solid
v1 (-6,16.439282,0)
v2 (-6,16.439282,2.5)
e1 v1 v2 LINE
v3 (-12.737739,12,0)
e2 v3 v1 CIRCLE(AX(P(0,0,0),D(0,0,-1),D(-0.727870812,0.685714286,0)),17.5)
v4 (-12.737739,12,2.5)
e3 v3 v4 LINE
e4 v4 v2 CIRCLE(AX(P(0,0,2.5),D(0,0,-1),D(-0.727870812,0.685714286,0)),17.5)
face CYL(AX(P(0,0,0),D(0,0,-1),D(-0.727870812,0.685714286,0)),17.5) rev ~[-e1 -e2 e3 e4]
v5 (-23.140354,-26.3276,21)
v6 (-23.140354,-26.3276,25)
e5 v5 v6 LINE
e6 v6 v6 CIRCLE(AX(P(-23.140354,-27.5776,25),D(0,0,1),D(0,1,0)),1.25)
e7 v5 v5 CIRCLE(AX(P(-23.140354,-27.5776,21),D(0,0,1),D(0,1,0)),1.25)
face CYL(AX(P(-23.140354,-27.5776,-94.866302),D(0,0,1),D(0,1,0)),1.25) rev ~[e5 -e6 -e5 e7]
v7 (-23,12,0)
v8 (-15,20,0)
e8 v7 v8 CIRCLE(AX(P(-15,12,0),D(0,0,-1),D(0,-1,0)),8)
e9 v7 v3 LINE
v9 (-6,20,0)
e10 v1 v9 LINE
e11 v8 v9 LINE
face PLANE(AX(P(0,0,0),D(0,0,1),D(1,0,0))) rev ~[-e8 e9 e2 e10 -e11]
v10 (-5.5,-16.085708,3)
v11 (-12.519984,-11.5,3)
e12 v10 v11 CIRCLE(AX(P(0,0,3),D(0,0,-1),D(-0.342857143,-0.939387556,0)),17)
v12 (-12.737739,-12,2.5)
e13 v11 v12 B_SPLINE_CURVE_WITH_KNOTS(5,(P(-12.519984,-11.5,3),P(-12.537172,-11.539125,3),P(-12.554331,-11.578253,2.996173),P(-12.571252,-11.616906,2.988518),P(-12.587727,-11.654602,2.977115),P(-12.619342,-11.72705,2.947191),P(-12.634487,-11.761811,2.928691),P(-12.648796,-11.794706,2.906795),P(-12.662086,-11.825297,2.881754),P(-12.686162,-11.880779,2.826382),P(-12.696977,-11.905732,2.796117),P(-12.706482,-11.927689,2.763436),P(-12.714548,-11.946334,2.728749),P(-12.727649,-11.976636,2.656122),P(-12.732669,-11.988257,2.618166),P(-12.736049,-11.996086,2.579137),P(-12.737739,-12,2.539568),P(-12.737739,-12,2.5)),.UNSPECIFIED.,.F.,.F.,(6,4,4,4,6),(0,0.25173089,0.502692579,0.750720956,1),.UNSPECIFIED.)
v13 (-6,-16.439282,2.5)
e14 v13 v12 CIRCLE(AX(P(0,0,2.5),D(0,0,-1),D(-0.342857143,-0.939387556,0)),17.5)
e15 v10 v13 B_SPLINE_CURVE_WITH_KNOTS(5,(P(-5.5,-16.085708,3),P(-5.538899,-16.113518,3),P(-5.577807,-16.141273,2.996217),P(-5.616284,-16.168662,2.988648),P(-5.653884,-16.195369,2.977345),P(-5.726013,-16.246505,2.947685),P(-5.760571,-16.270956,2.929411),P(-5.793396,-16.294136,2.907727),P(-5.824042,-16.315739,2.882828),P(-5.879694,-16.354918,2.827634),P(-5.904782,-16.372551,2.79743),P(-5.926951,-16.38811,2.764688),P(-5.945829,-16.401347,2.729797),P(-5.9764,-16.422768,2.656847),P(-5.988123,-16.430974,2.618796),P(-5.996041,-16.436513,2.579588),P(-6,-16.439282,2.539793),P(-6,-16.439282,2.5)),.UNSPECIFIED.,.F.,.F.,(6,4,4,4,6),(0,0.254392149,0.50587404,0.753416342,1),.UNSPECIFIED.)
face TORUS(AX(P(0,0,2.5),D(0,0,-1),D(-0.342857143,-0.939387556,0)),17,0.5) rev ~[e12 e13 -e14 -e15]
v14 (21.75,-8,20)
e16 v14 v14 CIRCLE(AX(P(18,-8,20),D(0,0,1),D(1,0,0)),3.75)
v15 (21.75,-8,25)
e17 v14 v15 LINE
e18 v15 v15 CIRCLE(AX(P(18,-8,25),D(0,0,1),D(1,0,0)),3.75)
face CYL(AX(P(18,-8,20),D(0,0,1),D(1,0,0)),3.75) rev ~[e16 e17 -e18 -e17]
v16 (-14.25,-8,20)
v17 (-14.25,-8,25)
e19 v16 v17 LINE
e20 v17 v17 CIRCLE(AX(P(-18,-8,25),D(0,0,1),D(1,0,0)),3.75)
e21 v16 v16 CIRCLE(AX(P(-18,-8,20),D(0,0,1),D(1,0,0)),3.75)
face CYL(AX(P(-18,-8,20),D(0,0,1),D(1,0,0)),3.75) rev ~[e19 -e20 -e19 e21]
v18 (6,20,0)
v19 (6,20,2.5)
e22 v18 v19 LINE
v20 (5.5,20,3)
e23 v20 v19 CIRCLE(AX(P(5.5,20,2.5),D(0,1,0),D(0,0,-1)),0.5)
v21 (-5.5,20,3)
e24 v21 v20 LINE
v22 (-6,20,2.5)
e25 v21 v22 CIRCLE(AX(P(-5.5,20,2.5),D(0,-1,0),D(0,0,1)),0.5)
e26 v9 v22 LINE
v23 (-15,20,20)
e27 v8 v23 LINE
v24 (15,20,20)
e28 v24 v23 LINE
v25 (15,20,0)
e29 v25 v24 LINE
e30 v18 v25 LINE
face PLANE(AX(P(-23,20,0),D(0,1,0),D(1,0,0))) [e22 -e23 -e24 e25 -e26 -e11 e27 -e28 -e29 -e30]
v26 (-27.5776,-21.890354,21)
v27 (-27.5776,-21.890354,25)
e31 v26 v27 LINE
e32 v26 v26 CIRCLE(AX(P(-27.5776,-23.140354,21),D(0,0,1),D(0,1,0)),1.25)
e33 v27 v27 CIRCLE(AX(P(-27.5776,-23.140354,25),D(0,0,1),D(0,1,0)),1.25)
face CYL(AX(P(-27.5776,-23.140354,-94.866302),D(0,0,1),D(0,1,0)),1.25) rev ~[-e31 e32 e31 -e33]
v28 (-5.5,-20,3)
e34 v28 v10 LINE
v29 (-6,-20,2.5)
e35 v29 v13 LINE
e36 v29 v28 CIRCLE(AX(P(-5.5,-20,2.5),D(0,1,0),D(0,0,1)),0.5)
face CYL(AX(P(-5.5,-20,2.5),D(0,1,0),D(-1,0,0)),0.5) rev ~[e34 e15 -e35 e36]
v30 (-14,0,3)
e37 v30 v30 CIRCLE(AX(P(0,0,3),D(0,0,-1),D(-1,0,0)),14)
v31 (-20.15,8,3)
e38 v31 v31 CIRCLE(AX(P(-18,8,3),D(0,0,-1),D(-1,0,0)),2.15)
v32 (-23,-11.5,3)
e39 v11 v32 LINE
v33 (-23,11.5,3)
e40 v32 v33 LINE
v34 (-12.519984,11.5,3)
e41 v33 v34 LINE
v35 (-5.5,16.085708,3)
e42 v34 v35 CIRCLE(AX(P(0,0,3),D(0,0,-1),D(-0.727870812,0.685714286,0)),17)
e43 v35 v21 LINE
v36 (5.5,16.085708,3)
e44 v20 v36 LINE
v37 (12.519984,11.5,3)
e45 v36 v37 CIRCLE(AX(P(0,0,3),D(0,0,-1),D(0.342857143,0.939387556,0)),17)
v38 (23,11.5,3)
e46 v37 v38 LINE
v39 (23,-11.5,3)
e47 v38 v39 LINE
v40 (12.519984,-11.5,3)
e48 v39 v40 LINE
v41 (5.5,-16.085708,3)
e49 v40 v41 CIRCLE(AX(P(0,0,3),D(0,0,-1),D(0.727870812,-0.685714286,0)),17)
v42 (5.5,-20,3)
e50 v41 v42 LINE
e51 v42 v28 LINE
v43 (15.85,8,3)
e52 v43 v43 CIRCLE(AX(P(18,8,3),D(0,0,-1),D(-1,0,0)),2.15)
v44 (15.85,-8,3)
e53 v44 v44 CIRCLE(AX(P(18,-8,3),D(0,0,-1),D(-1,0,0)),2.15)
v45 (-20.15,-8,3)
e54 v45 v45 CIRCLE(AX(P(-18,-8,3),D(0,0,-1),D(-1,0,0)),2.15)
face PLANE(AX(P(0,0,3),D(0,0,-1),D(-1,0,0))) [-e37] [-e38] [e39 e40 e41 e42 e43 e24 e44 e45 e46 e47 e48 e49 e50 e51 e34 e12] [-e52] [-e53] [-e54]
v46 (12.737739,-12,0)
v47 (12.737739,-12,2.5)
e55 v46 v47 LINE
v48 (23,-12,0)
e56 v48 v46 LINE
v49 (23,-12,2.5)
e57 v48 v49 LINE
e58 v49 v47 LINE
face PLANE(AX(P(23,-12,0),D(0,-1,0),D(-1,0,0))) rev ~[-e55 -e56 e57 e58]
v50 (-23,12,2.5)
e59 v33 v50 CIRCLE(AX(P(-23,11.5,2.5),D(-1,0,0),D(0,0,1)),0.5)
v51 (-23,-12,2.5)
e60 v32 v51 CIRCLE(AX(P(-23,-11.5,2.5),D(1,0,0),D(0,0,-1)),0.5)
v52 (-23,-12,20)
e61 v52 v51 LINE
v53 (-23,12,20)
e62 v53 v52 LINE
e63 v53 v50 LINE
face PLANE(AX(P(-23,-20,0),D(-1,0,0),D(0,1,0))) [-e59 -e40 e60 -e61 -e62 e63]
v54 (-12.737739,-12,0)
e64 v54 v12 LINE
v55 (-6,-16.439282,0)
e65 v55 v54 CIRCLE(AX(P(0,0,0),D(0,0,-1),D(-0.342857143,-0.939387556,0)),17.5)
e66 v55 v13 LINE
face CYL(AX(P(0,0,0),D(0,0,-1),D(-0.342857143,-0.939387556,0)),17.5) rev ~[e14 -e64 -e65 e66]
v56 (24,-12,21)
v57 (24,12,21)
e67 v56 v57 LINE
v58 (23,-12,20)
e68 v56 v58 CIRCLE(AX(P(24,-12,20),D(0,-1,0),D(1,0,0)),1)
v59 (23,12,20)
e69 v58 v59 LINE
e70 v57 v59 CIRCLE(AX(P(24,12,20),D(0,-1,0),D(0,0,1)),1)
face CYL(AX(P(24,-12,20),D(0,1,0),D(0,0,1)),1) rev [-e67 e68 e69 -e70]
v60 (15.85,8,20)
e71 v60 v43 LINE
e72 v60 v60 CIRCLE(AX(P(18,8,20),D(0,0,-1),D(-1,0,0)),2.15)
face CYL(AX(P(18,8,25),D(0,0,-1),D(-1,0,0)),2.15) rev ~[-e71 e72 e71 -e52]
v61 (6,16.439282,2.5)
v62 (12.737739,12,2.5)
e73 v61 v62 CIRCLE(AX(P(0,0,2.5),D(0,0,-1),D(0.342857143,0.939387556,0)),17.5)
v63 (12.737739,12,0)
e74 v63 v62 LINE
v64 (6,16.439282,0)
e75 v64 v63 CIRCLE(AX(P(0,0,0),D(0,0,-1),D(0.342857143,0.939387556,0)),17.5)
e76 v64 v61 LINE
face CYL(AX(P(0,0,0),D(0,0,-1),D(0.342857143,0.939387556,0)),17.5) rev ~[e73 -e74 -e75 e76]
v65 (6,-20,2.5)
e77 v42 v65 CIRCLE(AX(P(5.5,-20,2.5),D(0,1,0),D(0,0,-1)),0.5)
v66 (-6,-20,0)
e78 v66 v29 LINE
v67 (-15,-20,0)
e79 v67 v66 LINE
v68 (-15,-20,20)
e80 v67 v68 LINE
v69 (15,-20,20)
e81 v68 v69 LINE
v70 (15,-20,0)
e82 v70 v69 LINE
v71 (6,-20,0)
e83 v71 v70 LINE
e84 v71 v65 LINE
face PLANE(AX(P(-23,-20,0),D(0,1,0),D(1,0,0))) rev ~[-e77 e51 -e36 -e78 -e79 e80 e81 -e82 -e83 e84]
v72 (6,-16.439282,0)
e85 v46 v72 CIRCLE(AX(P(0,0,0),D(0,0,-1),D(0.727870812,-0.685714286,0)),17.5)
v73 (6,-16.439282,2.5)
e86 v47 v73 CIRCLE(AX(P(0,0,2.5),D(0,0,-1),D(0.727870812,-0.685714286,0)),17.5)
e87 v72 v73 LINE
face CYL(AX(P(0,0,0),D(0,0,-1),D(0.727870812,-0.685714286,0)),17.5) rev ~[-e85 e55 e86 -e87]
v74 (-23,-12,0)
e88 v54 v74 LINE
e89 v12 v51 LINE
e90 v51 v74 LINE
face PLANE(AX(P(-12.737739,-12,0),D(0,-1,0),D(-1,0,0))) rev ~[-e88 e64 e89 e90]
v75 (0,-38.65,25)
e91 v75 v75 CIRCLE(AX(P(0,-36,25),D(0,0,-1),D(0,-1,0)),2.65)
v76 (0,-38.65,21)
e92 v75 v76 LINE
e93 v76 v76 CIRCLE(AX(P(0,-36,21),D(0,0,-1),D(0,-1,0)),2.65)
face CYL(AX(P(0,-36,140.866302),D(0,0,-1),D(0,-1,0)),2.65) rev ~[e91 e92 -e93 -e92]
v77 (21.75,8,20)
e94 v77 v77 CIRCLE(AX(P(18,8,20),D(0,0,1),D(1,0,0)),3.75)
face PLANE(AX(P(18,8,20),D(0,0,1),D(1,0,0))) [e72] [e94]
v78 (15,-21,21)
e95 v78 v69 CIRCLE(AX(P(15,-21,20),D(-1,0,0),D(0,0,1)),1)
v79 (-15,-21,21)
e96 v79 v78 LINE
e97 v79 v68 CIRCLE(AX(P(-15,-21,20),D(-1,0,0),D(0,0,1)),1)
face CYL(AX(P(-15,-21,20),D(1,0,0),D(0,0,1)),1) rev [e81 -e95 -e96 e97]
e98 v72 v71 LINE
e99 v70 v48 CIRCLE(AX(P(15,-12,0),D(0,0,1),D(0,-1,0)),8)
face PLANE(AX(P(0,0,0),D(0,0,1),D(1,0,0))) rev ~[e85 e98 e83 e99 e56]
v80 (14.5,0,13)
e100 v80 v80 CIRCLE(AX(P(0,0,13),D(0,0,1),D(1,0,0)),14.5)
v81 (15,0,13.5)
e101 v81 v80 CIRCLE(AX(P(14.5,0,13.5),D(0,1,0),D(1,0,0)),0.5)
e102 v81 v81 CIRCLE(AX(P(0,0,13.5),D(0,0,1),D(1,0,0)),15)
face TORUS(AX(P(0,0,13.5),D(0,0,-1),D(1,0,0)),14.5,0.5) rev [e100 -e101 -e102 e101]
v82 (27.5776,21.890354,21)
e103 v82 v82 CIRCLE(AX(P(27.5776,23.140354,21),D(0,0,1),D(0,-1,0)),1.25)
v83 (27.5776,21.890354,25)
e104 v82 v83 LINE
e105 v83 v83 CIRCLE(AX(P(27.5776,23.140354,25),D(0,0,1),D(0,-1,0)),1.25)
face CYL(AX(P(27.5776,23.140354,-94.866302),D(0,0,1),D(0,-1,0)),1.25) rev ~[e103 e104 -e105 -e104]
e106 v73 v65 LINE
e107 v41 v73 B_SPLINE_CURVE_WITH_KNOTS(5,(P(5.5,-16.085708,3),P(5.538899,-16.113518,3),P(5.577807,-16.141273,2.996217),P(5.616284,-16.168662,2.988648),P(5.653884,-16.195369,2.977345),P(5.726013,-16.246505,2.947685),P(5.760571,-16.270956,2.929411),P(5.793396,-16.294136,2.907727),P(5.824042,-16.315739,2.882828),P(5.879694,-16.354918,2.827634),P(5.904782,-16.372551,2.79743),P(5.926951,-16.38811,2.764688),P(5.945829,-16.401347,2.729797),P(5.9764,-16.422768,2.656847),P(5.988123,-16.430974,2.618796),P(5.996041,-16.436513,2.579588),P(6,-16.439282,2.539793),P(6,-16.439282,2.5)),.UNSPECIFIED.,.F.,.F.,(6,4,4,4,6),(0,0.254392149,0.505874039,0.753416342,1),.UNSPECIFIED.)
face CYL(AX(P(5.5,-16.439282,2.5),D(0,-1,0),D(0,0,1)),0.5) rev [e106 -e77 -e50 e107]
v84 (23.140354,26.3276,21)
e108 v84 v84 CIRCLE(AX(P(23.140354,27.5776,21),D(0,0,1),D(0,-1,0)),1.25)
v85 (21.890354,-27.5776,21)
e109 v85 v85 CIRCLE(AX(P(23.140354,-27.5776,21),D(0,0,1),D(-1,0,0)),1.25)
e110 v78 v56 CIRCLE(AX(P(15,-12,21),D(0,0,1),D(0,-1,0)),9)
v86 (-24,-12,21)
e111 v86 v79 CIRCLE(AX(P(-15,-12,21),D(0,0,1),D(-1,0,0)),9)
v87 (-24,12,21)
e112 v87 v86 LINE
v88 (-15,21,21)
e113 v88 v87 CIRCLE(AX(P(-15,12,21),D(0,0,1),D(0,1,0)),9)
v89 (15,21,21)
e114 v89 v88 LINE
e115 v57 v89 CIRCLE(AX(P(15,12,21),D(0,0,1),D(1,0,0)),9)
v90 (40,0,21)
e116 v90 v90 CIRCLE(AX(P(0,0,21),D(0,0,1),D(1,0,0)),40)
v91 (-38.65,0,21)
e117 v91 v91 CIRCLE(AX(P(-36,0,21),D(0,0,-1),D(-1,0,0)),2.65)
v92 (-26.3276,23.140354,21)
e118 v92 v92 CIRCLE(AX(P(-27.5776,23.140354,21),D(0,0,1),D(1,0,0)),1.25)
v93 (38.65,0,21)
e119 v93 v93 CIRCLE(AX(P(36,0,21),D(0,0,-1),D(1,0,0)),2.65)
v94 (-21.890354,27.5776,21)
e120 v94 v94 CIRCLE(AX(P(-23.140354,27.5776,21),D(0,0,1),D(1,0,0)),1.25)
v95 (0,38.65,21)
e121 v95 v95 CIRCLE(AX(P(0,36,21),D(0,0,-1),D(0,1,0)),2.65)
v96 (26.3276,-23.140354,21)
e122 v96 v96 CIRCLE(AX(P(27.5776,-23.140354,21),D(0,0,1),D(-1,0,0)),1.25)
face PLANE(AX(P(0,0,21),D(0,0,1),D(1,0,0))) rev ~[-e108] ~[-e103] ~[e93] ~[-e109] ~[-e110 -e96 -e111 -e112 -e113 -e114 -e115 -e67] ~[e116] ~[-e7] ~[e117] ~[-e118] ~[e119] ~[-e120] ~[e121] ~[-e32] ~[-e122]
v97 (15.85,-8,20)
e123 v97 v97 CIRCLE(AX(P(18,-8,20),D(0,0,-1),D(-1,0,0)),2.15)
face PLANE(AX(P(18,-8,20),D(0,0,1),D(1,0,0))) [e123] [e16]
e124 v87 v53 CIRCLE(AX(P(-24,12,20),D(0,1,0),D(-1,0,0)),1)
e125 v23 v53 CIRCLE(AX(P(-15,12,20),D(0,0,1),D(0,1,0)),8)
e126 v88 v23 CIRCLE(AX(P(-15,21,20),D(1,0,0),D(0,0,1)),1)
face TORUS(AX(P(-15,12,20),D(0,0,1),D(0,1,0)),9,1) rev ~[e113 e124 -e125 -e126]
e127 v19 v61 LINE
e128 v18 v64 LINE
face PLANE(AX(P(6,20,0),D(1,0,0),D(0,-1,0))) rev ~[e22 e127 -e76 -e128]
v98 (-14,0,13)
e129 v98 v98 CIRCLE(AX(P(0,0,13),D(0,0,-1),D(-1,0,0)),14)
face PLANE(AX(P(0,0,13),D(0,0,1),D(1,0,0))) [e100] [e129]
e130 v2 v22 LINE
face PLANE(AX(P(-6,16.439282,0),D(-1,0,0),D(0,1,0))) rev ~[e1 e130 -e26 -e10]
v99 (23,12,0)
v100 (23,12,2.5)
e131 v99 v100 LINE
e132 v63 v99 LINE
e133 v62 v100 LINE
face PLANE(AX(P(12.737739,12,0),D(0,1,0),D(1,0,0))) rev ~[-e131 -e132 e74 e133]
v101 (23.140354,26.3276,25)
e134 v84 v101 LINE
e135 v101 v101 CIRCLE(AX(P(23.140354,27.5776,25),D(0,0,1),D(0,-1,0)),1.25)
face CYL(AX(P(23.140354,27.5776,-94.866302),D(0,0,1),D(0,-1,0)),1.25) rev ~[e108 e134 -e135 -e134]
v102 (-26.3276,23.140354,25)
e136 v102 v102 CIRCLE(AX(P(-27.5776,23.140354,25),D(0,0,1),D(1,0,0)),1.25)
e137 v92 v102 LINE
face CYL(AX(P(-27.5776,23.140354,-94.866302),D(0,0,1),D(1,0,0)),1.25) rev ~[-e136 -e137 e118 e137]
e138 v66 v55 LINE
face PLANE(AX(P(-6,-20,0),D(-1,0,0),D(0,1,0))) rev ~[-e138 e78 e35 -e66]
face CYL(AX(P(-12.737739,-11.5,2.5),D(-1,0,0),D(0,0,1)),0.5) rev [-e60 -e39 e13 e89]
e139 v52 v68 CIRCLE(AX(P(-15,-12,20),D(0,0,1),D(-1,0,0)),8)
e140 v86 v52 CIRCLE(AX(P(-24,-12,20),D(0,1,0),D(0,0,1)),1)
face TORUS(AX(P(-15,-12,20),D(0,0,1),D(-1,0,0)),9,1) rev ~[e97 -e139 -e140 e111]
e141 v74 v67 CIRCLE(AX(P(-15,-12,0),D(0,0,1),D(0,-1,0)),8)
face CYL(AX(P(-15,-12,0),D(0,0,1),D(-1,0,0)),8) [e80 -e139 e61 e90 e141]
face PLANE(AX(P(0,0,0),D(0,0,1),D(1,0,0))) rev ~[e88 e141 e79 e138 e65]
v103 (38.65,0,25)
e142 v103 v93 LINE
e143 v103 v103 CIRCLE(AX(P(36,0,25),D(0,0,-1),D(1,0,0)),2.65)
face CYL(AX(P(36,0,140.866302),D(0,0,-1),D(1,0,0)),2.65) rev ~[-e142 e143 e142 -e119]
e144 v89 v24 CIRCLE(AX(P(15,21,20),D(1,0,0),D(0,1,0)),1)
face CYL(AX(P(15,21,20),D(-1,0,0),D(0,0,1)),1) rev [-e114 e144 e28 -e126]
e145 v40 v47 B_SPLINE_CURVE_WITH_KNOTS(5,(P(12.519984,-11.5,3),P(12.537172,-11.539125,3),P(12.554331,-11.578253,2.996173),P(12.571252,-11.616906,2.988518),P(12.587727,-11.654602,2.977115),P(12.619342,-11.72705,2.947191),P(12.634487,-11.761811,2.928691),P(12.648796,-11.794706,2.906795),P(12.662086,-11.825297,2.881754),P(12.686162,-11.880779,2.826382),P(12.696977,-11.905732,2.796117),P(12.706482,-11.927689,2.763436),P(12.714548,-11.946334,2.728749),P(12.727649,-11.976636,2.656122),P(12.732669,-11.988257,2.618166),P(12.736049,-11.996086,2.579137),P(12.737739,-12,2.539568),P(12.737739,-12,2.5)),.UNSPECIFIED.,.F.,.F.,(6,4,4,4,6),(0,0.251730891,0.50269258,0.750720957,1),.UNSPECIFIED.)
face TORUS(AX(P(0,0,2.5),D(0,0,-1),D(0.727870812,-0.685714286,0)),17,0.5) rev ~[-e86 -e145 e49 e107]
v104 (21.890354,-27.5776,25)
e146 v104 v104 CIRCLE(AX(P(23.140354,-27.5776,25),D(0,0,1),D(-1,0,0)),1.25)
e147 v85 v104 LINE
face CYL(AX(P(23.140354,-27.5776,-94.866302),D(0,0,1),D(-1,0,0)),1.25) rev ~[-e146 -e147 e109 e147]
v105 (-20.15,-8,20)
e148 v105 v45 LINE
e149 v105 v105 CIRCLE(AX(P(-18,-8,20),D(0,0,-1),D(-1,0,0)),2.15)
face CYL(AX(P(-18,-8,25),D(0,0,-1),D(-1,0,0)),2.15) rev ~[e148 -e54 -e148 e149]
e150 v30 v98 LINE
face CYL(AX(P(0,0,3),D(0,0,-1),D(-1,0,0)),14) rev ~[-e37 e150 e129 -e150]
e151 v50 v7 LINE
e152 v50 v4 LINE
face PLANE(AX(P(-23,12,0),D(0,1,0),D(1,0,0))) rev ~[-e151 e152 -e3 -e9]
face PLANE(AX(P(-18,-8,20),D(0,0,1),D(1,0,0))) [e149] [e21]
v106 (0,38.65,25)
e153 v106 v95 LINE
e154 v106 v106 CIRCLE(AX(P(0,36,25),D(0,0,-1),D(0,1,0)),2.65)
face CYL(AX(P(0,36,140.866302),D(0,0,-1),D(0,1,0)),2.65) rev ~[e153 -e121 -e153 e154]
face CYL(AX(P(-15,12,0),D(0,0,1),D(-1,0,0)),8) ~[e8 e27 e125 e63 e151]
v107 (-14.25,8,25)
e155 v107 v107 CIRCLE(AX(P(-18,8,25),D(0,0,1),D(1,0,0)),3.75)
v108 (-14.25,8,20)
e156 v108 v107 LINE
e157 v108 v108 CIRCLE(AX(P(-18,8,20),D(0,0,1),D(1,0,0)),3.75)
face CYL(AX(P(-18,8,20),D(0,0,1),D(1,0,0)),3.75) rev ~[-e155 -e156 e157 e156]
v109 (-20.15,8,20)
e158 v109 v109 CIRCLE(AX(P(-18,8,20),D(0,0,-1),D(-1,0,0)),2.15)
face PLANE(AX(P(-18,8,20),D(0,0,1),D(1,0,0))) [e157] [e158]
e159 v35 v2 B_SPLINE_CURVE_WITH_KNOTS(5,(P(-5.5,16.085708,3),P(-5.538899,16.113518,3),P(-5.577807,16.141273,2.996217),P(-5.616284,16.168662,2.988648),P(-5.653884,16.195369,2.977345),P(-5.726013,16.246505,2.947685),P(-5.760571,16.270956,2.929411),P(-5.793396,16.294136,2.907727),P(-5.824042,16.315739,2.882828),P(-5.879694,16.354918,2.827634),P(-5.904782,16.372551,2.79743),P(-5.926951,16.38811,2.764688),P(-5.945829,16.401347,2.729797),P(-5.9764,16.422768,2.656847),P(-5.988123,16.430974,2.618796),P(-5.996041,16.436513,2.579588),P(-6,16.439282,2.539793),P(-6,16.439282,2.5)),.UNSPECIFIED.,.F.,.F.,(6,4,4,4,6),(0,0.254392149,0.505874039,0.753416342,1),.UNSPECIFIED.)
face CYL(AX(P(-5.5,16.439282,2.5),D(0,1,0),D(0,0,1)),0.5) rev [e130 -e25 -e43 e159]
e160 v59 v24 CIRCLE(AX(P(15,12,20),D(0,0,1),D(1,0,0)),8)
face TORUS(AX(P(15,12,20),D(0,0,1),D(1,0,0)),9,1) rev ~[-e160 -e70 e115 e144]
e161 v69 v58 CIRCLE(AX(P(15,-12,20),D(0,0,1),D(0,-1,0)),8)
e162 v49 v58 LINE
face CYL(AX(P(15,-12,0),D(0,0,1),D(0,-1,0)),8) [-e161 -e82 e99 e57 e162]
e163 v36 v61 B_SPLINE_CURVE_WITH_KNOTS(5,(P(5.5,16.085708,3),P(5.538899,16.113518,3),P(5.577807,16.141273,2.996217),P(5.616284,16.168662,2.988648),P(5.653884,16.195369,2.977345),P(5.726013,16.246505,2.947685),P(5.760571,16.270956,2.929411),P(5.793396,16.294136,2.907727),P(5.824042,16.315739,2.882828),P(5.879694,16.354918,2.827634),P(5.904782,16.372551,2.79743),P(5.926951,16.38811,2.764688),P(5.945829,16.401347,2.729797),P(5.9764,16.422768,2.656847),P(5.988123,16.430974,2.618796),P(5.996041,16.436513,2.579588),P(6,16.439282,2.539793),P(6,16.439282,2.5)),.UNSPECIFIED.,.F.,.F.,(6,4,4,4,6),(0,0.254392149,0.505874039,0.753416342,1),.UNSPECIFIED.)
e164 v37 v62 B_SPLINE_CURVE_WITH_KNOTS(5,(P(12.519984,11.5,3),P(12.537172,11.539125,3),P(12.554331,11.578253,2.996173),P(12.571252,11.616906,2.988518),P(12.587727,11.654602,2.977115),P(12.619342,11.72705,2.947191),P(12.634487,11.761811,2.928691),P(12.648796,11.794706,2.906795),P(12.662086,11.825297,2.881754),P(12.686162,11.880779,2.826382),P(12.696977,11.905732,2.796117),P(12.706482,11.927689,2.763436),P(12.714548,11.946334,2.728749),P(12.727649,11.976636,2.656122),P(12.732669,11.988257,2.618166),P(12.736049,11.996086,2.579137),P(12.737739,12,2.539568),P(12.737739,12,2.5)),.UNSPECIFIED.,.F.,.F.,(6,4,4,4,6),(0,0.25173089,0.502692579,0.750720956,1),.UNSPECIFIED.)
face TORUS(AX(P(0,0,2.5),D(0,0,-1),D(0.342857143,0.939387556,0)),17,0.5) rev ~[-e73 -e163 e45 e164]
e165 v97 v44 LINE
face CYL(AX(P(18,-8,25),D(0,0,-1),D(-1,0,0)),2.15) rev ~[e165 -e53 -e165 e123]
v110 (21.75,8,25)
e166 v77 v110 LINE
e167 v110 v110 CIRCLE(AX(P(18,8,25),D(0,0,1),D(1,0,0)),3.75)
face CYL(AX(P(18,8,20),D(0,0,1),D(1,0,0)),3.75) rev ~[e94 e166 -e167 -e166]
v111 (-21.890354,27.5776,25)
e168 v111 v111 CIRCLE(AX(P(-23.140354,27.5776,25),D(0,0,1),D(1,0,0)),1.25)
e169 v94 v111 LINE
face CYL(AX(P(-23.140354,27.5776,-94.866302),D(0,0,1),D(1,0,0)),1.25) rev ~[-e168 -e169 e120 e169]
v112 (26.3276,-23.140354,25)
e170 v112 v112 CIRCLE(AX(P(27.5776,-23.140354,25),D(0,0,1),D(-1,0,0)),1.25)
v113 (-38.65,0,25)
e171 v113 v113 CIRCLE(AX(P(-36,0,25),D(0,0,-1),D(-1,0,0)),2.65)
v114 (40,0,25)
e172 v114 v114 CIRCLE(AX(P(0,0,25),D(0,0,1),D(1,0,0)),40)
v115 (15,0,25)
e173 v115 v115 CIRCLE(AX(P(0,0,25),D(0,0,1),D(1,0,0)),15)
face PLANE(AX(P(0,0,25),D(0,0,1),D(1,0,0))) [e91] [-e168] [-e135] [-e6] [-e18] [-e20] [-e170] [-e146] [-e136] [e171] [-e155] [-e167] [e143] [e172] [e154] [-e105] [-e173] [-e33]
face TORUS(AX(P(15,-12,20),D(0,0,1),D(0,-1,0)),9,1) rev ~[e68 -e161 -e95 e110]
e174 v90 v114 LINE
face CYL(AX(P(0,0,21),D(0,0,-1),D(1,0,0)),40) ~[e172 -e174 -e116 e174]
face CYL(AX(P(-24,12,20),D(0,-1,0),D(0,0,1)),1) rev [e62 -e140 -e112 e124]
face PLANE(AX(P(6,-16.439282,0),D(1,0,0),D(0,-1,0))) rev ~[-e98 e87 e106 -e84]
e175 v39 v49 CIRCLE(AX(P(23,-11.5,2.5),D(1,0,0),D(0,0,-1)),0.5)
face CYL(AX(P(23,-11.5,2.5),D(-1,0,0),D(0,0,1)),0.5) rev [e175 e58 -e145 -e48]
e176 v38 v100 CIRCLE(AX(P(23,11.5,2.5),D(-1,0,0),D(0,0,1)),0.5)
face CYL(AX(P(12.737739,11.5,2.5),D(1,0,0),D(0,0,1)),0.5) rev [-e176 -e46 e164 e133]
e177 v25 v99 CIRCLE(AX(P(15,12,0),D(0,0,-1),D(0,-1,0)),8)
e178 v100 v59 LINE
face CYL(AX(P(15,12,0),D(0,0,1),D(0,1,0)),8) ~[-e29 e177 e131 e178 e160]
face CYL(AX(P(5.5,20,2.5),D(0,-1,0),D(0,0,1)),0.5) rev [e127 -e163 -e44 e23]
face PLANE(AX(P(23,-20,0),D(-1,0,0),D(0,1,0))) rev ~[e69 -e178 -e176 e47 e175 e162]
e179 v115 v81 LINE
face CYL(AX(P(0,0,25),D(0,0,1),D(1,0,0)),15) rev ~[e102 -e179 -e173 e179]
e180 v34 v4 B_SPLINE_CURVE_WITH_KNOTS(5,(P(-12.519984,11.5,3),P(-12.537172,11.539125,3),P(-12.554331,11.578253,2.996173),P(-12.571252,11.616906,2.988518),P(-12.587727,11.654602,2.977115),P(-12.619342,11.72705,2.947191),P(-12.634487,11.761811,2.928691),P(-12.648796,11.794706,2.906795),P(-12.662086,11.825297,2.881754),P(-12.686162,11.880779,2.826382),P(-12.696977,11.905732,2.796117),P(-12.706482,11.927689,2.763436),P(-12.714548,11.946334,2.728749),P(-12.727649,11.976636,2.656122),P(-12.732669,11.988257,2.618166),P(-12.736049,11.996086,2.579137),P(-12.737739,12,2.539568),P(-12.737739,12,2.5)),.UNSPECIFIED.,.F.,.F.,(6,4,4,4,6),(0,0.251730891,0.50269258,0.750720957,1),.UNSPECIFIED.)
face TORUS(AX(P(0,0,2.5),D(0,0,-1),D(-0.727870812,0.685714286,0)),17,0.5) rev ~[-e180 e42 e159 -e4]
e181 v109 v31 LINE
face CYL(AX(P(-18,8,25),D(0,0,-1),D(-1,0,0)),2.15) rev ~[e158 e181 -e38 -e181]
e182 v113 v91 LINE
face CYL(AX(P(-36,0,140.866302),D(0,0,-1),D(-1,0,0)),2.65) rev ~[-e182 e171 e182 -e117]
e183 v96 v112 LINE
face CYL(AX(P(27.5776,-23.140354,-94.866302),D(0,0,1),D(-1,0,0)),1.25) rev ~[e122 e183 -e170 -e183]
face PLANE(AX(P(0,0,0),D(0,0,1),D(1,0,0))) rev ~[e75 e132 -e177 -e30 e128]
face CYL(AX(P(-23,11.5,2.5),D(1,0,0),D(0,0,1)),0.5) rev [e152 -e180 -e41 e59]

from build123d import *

# Parameters (mm, degrees)
SKETCH1_W                       = 46
SKETCH1_H                       = 40
BOSS_EXTRUDE1_DEPTH             = 21
CUT_EXTRUDE1_DEPTH              = 3
FILLET1_R                       = 8
SKETCH20_R                      = 40
BOSS_EXTRUDE3_DEPTH             = 4
M5_CLEARANCE_HOLE2_D            = 5.3
CIRPATTERN3_COUNT               = 4
SKETCH24_R                      = 14
CUT_EXTRUDE2_DEPTH              = 61.695963622
SKETCH25_R                      = 15
CUT_EXTRUDE3_DEPTH              = 12
M3X0_5_TAPPED_HOLE1_D           = 2.5
CIRPATTERN4_COUNT               = 4
CBORE_FOR_M4_SBHCS1_D           = 4.3
CBORE_FOR_M4_SBHCS1_CBORE_D     = 7.5
CBORE_FOR_M4_SBHCS1_CBORE_DEPTH = 5
FILLET2_R                       = 1
FILLET3_R                       = 0.5
FILLET4_R                       = 0.5


with BuildPart() as part:
    # Sketch1 → Boss-Extrude1 (new body)
    with BuildSketch(Plane.XY):
        Rectangle(SKETCH1_W, SKETCH1_H)
    extrude(amount=BOSS_EXTRUDE1_DEPTH)

    # Sketch2 → Cut-Extrude1 (cut)
    with BuildSketch(Plane(origin=(0, 0, 0), x_dir=(-1, 0, 0), z_dir=(0, 0, -1))):
        with BuildLine():
            Line((-23, -12), (-12.737739203, -12))
            ThreePointArc((-12.737739203, -12), (-9.62821501, -14.613263692), (-6, -16.439282223))
            Line((-6, -16.439282223), (-6, -20))
            Line((-6, -20), (6, -20))
            Line((6, -20), (6, -16.439282223))
            ThreePointArc((6, -16.439282223), (9.62821501, -14.613263692), (12.737739203, -12))
            Line((12.737739203, -12), (23, -12))
            Line((23, -12), (23, 12))
            Line((23, 12), (12.737739203, 12))
            ThreePointArc((12.737739203, 12), (9.62821501, 14.613263692), (6, 16.439282223))
            Line((6, 16.439282223), (6, 20))
            Line((6, 20), (-6, 20))
            Line((-6, 20), (-6, 16.439282223))
            ThreePointArc((-6, 16.439282223), (-9.62821501, 14.613263692), (-12.737739203, 12))
            Line((-12.737739203, 12), (-23, 12))
            Line((-23, 12), (-23, -12))
        make_face()
    extrude(amount=-CUT_EXTRUDE1_DEPTH, mode=Mode.SUBTRACT)

    # Fillet1
    fillet1_edges = [part.edges().sort_by_distance(p)[0] for p in [
        (-23, -20, 10.5),
        (23, -20, 10.5),
        (-23, 20, 10.5),
        (23, 20, 10.5),
    ]]
    fillet(fillet1_edges, radius=FILLET1_R)

    # Sketch20 → Boss-Extrude3 (add)
    with BuildSketch(Plane.XY.offset(21)):
        Circle(SKETCH20_R)
    extrude(amount=BOSS_EXTRUDE3_DEPTH)

    # M5 Clearance Hole2 (through all)
    with Locations(Plane.XY.offset(25)):
        with Locations((-36, 0)):
            m5_clearance_hole2 = Hole(M5_CLEARANCE_HOLE2_D / 2)

    # CirPattern3: M5 Clearance Hole2 ×4 about axis
    cirpattern3_axis = Axis((0, 0, 0), (0, 0, 1))
    for i in range(1, CIRPATTERN3_COUNT):
        add(m5_clearance_hole2.rotate(cirpattern3_axis, i * 360 / CIRPATTERN3_COUNT), mode=Mode.SUBTRACT)

    # Sketch24 → Cut-Extrude2 (cut, through all)
    with BuildSketch(Plane(origin=(0, 0, 3), x_dir=(-1, 0, 0), z_dir=(0, 0, -1))):
        Circle(SKETCH24_R)
    extrude(amount=-CUT_EXTRUDE2_DEPTH, mode=Mode.SUBTRACT)

    # Sketch25 → Cut-Extrude3 (cut)
    with BuildSketch(Plane.XY.offset(25)):
        Circle(SKETCH25_R)
    extrude(amount=-CUT_EXTRUDE3_DEPTH, mode=Mode.SUBTRACT)

    # M3x0.5 Tapped Hole1 (through all)
    with Locations(Plane(origin=(0, 0, 21), x_dir=(-1, 0, 0), z_dir=(0, 0, -1))):
        with Locations((23.140353949, 27.577599952), (27.577599952, 23.140353949)):
            m3x0_5_tapped_hole1 = Hole(M3X0_5_TAPPED_HOLE1_D / 2)

    # CirPattern4: M3x0.5 Tapped Hole1 ×4 about axis
    cirpattern4_axis = Axis((0, 0, 0), (0, 0, 1))
    for i in range(1, CIRPATTERN4_COUNT):
        add(m3x0_5_tapped_hole1.rotate(cirpattern4_axis, i * 360 / CIRPATTERN4_COUNT), mode=Mode.SUBTRACT)

    # CBORE for M4 SBHCS1 (through all)
    with Locations(Plane.XY.offset(25)):
        with Locations((-18, -8), (-18, 8), (18, -8), (18, 8)):
            CounterBoreHole(CBORE_FOR_M4_SBHCS1_D / 2, CBORE_FOR_M4_SBHCS1_CBORE_D / 2, CBORE_FOR_M4_SBHCS1_CBORE_DEPTH)

    # Fillet2
    fillet2_edges = [part.edges().sort_by_distance(p)[0] for p in [
        (0, -20, 21),
        (-23, 0, 21),
        (23, 0, 21),
        (0, 20, 21),
        (20.656854249, 17.656854249, 21),
        (-20.656854249, 17.656854249, 21),
        (20.656854249, -17.656854249, 21),
        (-20.656854249, -17.656854249, 21),
    ]]
    fillet(fillet2_edges, radius=FILLET2_R)

    # Fillet3
    fillet3_edges = [part.edges().sort_by_distance(p)[0] for p in [
        (6, 18.219641111, 3),
        (-9.62821501, 14.613263692, 3),
        (-17.868869601, 12, 3),
        (-9.62821501, -14.613263692, 3),
        (-6, -18.219641111, 3),
        (9.62821501, -14.613263692, 3),
        (17.868869601, -12, 3),
        (17.868869601, 12, 3),
        (9.62821501, 14.613263692, 3),
        (-6, 18.219641111, 3),
        (-17.868869601, -12, 3),
        (6, -18.219641111, 3),
    ]]
    fillet(fillet3_edges, radius=FILLET3_R)

    # Fillet4
    fillet4_edges = [part.edges().sort_by_distance(p)[0] for p in [
        (-15, 0, 13),
    ]]
    fillet(fillet4_edges, radius=FILLET4_R)


solid = part.part
